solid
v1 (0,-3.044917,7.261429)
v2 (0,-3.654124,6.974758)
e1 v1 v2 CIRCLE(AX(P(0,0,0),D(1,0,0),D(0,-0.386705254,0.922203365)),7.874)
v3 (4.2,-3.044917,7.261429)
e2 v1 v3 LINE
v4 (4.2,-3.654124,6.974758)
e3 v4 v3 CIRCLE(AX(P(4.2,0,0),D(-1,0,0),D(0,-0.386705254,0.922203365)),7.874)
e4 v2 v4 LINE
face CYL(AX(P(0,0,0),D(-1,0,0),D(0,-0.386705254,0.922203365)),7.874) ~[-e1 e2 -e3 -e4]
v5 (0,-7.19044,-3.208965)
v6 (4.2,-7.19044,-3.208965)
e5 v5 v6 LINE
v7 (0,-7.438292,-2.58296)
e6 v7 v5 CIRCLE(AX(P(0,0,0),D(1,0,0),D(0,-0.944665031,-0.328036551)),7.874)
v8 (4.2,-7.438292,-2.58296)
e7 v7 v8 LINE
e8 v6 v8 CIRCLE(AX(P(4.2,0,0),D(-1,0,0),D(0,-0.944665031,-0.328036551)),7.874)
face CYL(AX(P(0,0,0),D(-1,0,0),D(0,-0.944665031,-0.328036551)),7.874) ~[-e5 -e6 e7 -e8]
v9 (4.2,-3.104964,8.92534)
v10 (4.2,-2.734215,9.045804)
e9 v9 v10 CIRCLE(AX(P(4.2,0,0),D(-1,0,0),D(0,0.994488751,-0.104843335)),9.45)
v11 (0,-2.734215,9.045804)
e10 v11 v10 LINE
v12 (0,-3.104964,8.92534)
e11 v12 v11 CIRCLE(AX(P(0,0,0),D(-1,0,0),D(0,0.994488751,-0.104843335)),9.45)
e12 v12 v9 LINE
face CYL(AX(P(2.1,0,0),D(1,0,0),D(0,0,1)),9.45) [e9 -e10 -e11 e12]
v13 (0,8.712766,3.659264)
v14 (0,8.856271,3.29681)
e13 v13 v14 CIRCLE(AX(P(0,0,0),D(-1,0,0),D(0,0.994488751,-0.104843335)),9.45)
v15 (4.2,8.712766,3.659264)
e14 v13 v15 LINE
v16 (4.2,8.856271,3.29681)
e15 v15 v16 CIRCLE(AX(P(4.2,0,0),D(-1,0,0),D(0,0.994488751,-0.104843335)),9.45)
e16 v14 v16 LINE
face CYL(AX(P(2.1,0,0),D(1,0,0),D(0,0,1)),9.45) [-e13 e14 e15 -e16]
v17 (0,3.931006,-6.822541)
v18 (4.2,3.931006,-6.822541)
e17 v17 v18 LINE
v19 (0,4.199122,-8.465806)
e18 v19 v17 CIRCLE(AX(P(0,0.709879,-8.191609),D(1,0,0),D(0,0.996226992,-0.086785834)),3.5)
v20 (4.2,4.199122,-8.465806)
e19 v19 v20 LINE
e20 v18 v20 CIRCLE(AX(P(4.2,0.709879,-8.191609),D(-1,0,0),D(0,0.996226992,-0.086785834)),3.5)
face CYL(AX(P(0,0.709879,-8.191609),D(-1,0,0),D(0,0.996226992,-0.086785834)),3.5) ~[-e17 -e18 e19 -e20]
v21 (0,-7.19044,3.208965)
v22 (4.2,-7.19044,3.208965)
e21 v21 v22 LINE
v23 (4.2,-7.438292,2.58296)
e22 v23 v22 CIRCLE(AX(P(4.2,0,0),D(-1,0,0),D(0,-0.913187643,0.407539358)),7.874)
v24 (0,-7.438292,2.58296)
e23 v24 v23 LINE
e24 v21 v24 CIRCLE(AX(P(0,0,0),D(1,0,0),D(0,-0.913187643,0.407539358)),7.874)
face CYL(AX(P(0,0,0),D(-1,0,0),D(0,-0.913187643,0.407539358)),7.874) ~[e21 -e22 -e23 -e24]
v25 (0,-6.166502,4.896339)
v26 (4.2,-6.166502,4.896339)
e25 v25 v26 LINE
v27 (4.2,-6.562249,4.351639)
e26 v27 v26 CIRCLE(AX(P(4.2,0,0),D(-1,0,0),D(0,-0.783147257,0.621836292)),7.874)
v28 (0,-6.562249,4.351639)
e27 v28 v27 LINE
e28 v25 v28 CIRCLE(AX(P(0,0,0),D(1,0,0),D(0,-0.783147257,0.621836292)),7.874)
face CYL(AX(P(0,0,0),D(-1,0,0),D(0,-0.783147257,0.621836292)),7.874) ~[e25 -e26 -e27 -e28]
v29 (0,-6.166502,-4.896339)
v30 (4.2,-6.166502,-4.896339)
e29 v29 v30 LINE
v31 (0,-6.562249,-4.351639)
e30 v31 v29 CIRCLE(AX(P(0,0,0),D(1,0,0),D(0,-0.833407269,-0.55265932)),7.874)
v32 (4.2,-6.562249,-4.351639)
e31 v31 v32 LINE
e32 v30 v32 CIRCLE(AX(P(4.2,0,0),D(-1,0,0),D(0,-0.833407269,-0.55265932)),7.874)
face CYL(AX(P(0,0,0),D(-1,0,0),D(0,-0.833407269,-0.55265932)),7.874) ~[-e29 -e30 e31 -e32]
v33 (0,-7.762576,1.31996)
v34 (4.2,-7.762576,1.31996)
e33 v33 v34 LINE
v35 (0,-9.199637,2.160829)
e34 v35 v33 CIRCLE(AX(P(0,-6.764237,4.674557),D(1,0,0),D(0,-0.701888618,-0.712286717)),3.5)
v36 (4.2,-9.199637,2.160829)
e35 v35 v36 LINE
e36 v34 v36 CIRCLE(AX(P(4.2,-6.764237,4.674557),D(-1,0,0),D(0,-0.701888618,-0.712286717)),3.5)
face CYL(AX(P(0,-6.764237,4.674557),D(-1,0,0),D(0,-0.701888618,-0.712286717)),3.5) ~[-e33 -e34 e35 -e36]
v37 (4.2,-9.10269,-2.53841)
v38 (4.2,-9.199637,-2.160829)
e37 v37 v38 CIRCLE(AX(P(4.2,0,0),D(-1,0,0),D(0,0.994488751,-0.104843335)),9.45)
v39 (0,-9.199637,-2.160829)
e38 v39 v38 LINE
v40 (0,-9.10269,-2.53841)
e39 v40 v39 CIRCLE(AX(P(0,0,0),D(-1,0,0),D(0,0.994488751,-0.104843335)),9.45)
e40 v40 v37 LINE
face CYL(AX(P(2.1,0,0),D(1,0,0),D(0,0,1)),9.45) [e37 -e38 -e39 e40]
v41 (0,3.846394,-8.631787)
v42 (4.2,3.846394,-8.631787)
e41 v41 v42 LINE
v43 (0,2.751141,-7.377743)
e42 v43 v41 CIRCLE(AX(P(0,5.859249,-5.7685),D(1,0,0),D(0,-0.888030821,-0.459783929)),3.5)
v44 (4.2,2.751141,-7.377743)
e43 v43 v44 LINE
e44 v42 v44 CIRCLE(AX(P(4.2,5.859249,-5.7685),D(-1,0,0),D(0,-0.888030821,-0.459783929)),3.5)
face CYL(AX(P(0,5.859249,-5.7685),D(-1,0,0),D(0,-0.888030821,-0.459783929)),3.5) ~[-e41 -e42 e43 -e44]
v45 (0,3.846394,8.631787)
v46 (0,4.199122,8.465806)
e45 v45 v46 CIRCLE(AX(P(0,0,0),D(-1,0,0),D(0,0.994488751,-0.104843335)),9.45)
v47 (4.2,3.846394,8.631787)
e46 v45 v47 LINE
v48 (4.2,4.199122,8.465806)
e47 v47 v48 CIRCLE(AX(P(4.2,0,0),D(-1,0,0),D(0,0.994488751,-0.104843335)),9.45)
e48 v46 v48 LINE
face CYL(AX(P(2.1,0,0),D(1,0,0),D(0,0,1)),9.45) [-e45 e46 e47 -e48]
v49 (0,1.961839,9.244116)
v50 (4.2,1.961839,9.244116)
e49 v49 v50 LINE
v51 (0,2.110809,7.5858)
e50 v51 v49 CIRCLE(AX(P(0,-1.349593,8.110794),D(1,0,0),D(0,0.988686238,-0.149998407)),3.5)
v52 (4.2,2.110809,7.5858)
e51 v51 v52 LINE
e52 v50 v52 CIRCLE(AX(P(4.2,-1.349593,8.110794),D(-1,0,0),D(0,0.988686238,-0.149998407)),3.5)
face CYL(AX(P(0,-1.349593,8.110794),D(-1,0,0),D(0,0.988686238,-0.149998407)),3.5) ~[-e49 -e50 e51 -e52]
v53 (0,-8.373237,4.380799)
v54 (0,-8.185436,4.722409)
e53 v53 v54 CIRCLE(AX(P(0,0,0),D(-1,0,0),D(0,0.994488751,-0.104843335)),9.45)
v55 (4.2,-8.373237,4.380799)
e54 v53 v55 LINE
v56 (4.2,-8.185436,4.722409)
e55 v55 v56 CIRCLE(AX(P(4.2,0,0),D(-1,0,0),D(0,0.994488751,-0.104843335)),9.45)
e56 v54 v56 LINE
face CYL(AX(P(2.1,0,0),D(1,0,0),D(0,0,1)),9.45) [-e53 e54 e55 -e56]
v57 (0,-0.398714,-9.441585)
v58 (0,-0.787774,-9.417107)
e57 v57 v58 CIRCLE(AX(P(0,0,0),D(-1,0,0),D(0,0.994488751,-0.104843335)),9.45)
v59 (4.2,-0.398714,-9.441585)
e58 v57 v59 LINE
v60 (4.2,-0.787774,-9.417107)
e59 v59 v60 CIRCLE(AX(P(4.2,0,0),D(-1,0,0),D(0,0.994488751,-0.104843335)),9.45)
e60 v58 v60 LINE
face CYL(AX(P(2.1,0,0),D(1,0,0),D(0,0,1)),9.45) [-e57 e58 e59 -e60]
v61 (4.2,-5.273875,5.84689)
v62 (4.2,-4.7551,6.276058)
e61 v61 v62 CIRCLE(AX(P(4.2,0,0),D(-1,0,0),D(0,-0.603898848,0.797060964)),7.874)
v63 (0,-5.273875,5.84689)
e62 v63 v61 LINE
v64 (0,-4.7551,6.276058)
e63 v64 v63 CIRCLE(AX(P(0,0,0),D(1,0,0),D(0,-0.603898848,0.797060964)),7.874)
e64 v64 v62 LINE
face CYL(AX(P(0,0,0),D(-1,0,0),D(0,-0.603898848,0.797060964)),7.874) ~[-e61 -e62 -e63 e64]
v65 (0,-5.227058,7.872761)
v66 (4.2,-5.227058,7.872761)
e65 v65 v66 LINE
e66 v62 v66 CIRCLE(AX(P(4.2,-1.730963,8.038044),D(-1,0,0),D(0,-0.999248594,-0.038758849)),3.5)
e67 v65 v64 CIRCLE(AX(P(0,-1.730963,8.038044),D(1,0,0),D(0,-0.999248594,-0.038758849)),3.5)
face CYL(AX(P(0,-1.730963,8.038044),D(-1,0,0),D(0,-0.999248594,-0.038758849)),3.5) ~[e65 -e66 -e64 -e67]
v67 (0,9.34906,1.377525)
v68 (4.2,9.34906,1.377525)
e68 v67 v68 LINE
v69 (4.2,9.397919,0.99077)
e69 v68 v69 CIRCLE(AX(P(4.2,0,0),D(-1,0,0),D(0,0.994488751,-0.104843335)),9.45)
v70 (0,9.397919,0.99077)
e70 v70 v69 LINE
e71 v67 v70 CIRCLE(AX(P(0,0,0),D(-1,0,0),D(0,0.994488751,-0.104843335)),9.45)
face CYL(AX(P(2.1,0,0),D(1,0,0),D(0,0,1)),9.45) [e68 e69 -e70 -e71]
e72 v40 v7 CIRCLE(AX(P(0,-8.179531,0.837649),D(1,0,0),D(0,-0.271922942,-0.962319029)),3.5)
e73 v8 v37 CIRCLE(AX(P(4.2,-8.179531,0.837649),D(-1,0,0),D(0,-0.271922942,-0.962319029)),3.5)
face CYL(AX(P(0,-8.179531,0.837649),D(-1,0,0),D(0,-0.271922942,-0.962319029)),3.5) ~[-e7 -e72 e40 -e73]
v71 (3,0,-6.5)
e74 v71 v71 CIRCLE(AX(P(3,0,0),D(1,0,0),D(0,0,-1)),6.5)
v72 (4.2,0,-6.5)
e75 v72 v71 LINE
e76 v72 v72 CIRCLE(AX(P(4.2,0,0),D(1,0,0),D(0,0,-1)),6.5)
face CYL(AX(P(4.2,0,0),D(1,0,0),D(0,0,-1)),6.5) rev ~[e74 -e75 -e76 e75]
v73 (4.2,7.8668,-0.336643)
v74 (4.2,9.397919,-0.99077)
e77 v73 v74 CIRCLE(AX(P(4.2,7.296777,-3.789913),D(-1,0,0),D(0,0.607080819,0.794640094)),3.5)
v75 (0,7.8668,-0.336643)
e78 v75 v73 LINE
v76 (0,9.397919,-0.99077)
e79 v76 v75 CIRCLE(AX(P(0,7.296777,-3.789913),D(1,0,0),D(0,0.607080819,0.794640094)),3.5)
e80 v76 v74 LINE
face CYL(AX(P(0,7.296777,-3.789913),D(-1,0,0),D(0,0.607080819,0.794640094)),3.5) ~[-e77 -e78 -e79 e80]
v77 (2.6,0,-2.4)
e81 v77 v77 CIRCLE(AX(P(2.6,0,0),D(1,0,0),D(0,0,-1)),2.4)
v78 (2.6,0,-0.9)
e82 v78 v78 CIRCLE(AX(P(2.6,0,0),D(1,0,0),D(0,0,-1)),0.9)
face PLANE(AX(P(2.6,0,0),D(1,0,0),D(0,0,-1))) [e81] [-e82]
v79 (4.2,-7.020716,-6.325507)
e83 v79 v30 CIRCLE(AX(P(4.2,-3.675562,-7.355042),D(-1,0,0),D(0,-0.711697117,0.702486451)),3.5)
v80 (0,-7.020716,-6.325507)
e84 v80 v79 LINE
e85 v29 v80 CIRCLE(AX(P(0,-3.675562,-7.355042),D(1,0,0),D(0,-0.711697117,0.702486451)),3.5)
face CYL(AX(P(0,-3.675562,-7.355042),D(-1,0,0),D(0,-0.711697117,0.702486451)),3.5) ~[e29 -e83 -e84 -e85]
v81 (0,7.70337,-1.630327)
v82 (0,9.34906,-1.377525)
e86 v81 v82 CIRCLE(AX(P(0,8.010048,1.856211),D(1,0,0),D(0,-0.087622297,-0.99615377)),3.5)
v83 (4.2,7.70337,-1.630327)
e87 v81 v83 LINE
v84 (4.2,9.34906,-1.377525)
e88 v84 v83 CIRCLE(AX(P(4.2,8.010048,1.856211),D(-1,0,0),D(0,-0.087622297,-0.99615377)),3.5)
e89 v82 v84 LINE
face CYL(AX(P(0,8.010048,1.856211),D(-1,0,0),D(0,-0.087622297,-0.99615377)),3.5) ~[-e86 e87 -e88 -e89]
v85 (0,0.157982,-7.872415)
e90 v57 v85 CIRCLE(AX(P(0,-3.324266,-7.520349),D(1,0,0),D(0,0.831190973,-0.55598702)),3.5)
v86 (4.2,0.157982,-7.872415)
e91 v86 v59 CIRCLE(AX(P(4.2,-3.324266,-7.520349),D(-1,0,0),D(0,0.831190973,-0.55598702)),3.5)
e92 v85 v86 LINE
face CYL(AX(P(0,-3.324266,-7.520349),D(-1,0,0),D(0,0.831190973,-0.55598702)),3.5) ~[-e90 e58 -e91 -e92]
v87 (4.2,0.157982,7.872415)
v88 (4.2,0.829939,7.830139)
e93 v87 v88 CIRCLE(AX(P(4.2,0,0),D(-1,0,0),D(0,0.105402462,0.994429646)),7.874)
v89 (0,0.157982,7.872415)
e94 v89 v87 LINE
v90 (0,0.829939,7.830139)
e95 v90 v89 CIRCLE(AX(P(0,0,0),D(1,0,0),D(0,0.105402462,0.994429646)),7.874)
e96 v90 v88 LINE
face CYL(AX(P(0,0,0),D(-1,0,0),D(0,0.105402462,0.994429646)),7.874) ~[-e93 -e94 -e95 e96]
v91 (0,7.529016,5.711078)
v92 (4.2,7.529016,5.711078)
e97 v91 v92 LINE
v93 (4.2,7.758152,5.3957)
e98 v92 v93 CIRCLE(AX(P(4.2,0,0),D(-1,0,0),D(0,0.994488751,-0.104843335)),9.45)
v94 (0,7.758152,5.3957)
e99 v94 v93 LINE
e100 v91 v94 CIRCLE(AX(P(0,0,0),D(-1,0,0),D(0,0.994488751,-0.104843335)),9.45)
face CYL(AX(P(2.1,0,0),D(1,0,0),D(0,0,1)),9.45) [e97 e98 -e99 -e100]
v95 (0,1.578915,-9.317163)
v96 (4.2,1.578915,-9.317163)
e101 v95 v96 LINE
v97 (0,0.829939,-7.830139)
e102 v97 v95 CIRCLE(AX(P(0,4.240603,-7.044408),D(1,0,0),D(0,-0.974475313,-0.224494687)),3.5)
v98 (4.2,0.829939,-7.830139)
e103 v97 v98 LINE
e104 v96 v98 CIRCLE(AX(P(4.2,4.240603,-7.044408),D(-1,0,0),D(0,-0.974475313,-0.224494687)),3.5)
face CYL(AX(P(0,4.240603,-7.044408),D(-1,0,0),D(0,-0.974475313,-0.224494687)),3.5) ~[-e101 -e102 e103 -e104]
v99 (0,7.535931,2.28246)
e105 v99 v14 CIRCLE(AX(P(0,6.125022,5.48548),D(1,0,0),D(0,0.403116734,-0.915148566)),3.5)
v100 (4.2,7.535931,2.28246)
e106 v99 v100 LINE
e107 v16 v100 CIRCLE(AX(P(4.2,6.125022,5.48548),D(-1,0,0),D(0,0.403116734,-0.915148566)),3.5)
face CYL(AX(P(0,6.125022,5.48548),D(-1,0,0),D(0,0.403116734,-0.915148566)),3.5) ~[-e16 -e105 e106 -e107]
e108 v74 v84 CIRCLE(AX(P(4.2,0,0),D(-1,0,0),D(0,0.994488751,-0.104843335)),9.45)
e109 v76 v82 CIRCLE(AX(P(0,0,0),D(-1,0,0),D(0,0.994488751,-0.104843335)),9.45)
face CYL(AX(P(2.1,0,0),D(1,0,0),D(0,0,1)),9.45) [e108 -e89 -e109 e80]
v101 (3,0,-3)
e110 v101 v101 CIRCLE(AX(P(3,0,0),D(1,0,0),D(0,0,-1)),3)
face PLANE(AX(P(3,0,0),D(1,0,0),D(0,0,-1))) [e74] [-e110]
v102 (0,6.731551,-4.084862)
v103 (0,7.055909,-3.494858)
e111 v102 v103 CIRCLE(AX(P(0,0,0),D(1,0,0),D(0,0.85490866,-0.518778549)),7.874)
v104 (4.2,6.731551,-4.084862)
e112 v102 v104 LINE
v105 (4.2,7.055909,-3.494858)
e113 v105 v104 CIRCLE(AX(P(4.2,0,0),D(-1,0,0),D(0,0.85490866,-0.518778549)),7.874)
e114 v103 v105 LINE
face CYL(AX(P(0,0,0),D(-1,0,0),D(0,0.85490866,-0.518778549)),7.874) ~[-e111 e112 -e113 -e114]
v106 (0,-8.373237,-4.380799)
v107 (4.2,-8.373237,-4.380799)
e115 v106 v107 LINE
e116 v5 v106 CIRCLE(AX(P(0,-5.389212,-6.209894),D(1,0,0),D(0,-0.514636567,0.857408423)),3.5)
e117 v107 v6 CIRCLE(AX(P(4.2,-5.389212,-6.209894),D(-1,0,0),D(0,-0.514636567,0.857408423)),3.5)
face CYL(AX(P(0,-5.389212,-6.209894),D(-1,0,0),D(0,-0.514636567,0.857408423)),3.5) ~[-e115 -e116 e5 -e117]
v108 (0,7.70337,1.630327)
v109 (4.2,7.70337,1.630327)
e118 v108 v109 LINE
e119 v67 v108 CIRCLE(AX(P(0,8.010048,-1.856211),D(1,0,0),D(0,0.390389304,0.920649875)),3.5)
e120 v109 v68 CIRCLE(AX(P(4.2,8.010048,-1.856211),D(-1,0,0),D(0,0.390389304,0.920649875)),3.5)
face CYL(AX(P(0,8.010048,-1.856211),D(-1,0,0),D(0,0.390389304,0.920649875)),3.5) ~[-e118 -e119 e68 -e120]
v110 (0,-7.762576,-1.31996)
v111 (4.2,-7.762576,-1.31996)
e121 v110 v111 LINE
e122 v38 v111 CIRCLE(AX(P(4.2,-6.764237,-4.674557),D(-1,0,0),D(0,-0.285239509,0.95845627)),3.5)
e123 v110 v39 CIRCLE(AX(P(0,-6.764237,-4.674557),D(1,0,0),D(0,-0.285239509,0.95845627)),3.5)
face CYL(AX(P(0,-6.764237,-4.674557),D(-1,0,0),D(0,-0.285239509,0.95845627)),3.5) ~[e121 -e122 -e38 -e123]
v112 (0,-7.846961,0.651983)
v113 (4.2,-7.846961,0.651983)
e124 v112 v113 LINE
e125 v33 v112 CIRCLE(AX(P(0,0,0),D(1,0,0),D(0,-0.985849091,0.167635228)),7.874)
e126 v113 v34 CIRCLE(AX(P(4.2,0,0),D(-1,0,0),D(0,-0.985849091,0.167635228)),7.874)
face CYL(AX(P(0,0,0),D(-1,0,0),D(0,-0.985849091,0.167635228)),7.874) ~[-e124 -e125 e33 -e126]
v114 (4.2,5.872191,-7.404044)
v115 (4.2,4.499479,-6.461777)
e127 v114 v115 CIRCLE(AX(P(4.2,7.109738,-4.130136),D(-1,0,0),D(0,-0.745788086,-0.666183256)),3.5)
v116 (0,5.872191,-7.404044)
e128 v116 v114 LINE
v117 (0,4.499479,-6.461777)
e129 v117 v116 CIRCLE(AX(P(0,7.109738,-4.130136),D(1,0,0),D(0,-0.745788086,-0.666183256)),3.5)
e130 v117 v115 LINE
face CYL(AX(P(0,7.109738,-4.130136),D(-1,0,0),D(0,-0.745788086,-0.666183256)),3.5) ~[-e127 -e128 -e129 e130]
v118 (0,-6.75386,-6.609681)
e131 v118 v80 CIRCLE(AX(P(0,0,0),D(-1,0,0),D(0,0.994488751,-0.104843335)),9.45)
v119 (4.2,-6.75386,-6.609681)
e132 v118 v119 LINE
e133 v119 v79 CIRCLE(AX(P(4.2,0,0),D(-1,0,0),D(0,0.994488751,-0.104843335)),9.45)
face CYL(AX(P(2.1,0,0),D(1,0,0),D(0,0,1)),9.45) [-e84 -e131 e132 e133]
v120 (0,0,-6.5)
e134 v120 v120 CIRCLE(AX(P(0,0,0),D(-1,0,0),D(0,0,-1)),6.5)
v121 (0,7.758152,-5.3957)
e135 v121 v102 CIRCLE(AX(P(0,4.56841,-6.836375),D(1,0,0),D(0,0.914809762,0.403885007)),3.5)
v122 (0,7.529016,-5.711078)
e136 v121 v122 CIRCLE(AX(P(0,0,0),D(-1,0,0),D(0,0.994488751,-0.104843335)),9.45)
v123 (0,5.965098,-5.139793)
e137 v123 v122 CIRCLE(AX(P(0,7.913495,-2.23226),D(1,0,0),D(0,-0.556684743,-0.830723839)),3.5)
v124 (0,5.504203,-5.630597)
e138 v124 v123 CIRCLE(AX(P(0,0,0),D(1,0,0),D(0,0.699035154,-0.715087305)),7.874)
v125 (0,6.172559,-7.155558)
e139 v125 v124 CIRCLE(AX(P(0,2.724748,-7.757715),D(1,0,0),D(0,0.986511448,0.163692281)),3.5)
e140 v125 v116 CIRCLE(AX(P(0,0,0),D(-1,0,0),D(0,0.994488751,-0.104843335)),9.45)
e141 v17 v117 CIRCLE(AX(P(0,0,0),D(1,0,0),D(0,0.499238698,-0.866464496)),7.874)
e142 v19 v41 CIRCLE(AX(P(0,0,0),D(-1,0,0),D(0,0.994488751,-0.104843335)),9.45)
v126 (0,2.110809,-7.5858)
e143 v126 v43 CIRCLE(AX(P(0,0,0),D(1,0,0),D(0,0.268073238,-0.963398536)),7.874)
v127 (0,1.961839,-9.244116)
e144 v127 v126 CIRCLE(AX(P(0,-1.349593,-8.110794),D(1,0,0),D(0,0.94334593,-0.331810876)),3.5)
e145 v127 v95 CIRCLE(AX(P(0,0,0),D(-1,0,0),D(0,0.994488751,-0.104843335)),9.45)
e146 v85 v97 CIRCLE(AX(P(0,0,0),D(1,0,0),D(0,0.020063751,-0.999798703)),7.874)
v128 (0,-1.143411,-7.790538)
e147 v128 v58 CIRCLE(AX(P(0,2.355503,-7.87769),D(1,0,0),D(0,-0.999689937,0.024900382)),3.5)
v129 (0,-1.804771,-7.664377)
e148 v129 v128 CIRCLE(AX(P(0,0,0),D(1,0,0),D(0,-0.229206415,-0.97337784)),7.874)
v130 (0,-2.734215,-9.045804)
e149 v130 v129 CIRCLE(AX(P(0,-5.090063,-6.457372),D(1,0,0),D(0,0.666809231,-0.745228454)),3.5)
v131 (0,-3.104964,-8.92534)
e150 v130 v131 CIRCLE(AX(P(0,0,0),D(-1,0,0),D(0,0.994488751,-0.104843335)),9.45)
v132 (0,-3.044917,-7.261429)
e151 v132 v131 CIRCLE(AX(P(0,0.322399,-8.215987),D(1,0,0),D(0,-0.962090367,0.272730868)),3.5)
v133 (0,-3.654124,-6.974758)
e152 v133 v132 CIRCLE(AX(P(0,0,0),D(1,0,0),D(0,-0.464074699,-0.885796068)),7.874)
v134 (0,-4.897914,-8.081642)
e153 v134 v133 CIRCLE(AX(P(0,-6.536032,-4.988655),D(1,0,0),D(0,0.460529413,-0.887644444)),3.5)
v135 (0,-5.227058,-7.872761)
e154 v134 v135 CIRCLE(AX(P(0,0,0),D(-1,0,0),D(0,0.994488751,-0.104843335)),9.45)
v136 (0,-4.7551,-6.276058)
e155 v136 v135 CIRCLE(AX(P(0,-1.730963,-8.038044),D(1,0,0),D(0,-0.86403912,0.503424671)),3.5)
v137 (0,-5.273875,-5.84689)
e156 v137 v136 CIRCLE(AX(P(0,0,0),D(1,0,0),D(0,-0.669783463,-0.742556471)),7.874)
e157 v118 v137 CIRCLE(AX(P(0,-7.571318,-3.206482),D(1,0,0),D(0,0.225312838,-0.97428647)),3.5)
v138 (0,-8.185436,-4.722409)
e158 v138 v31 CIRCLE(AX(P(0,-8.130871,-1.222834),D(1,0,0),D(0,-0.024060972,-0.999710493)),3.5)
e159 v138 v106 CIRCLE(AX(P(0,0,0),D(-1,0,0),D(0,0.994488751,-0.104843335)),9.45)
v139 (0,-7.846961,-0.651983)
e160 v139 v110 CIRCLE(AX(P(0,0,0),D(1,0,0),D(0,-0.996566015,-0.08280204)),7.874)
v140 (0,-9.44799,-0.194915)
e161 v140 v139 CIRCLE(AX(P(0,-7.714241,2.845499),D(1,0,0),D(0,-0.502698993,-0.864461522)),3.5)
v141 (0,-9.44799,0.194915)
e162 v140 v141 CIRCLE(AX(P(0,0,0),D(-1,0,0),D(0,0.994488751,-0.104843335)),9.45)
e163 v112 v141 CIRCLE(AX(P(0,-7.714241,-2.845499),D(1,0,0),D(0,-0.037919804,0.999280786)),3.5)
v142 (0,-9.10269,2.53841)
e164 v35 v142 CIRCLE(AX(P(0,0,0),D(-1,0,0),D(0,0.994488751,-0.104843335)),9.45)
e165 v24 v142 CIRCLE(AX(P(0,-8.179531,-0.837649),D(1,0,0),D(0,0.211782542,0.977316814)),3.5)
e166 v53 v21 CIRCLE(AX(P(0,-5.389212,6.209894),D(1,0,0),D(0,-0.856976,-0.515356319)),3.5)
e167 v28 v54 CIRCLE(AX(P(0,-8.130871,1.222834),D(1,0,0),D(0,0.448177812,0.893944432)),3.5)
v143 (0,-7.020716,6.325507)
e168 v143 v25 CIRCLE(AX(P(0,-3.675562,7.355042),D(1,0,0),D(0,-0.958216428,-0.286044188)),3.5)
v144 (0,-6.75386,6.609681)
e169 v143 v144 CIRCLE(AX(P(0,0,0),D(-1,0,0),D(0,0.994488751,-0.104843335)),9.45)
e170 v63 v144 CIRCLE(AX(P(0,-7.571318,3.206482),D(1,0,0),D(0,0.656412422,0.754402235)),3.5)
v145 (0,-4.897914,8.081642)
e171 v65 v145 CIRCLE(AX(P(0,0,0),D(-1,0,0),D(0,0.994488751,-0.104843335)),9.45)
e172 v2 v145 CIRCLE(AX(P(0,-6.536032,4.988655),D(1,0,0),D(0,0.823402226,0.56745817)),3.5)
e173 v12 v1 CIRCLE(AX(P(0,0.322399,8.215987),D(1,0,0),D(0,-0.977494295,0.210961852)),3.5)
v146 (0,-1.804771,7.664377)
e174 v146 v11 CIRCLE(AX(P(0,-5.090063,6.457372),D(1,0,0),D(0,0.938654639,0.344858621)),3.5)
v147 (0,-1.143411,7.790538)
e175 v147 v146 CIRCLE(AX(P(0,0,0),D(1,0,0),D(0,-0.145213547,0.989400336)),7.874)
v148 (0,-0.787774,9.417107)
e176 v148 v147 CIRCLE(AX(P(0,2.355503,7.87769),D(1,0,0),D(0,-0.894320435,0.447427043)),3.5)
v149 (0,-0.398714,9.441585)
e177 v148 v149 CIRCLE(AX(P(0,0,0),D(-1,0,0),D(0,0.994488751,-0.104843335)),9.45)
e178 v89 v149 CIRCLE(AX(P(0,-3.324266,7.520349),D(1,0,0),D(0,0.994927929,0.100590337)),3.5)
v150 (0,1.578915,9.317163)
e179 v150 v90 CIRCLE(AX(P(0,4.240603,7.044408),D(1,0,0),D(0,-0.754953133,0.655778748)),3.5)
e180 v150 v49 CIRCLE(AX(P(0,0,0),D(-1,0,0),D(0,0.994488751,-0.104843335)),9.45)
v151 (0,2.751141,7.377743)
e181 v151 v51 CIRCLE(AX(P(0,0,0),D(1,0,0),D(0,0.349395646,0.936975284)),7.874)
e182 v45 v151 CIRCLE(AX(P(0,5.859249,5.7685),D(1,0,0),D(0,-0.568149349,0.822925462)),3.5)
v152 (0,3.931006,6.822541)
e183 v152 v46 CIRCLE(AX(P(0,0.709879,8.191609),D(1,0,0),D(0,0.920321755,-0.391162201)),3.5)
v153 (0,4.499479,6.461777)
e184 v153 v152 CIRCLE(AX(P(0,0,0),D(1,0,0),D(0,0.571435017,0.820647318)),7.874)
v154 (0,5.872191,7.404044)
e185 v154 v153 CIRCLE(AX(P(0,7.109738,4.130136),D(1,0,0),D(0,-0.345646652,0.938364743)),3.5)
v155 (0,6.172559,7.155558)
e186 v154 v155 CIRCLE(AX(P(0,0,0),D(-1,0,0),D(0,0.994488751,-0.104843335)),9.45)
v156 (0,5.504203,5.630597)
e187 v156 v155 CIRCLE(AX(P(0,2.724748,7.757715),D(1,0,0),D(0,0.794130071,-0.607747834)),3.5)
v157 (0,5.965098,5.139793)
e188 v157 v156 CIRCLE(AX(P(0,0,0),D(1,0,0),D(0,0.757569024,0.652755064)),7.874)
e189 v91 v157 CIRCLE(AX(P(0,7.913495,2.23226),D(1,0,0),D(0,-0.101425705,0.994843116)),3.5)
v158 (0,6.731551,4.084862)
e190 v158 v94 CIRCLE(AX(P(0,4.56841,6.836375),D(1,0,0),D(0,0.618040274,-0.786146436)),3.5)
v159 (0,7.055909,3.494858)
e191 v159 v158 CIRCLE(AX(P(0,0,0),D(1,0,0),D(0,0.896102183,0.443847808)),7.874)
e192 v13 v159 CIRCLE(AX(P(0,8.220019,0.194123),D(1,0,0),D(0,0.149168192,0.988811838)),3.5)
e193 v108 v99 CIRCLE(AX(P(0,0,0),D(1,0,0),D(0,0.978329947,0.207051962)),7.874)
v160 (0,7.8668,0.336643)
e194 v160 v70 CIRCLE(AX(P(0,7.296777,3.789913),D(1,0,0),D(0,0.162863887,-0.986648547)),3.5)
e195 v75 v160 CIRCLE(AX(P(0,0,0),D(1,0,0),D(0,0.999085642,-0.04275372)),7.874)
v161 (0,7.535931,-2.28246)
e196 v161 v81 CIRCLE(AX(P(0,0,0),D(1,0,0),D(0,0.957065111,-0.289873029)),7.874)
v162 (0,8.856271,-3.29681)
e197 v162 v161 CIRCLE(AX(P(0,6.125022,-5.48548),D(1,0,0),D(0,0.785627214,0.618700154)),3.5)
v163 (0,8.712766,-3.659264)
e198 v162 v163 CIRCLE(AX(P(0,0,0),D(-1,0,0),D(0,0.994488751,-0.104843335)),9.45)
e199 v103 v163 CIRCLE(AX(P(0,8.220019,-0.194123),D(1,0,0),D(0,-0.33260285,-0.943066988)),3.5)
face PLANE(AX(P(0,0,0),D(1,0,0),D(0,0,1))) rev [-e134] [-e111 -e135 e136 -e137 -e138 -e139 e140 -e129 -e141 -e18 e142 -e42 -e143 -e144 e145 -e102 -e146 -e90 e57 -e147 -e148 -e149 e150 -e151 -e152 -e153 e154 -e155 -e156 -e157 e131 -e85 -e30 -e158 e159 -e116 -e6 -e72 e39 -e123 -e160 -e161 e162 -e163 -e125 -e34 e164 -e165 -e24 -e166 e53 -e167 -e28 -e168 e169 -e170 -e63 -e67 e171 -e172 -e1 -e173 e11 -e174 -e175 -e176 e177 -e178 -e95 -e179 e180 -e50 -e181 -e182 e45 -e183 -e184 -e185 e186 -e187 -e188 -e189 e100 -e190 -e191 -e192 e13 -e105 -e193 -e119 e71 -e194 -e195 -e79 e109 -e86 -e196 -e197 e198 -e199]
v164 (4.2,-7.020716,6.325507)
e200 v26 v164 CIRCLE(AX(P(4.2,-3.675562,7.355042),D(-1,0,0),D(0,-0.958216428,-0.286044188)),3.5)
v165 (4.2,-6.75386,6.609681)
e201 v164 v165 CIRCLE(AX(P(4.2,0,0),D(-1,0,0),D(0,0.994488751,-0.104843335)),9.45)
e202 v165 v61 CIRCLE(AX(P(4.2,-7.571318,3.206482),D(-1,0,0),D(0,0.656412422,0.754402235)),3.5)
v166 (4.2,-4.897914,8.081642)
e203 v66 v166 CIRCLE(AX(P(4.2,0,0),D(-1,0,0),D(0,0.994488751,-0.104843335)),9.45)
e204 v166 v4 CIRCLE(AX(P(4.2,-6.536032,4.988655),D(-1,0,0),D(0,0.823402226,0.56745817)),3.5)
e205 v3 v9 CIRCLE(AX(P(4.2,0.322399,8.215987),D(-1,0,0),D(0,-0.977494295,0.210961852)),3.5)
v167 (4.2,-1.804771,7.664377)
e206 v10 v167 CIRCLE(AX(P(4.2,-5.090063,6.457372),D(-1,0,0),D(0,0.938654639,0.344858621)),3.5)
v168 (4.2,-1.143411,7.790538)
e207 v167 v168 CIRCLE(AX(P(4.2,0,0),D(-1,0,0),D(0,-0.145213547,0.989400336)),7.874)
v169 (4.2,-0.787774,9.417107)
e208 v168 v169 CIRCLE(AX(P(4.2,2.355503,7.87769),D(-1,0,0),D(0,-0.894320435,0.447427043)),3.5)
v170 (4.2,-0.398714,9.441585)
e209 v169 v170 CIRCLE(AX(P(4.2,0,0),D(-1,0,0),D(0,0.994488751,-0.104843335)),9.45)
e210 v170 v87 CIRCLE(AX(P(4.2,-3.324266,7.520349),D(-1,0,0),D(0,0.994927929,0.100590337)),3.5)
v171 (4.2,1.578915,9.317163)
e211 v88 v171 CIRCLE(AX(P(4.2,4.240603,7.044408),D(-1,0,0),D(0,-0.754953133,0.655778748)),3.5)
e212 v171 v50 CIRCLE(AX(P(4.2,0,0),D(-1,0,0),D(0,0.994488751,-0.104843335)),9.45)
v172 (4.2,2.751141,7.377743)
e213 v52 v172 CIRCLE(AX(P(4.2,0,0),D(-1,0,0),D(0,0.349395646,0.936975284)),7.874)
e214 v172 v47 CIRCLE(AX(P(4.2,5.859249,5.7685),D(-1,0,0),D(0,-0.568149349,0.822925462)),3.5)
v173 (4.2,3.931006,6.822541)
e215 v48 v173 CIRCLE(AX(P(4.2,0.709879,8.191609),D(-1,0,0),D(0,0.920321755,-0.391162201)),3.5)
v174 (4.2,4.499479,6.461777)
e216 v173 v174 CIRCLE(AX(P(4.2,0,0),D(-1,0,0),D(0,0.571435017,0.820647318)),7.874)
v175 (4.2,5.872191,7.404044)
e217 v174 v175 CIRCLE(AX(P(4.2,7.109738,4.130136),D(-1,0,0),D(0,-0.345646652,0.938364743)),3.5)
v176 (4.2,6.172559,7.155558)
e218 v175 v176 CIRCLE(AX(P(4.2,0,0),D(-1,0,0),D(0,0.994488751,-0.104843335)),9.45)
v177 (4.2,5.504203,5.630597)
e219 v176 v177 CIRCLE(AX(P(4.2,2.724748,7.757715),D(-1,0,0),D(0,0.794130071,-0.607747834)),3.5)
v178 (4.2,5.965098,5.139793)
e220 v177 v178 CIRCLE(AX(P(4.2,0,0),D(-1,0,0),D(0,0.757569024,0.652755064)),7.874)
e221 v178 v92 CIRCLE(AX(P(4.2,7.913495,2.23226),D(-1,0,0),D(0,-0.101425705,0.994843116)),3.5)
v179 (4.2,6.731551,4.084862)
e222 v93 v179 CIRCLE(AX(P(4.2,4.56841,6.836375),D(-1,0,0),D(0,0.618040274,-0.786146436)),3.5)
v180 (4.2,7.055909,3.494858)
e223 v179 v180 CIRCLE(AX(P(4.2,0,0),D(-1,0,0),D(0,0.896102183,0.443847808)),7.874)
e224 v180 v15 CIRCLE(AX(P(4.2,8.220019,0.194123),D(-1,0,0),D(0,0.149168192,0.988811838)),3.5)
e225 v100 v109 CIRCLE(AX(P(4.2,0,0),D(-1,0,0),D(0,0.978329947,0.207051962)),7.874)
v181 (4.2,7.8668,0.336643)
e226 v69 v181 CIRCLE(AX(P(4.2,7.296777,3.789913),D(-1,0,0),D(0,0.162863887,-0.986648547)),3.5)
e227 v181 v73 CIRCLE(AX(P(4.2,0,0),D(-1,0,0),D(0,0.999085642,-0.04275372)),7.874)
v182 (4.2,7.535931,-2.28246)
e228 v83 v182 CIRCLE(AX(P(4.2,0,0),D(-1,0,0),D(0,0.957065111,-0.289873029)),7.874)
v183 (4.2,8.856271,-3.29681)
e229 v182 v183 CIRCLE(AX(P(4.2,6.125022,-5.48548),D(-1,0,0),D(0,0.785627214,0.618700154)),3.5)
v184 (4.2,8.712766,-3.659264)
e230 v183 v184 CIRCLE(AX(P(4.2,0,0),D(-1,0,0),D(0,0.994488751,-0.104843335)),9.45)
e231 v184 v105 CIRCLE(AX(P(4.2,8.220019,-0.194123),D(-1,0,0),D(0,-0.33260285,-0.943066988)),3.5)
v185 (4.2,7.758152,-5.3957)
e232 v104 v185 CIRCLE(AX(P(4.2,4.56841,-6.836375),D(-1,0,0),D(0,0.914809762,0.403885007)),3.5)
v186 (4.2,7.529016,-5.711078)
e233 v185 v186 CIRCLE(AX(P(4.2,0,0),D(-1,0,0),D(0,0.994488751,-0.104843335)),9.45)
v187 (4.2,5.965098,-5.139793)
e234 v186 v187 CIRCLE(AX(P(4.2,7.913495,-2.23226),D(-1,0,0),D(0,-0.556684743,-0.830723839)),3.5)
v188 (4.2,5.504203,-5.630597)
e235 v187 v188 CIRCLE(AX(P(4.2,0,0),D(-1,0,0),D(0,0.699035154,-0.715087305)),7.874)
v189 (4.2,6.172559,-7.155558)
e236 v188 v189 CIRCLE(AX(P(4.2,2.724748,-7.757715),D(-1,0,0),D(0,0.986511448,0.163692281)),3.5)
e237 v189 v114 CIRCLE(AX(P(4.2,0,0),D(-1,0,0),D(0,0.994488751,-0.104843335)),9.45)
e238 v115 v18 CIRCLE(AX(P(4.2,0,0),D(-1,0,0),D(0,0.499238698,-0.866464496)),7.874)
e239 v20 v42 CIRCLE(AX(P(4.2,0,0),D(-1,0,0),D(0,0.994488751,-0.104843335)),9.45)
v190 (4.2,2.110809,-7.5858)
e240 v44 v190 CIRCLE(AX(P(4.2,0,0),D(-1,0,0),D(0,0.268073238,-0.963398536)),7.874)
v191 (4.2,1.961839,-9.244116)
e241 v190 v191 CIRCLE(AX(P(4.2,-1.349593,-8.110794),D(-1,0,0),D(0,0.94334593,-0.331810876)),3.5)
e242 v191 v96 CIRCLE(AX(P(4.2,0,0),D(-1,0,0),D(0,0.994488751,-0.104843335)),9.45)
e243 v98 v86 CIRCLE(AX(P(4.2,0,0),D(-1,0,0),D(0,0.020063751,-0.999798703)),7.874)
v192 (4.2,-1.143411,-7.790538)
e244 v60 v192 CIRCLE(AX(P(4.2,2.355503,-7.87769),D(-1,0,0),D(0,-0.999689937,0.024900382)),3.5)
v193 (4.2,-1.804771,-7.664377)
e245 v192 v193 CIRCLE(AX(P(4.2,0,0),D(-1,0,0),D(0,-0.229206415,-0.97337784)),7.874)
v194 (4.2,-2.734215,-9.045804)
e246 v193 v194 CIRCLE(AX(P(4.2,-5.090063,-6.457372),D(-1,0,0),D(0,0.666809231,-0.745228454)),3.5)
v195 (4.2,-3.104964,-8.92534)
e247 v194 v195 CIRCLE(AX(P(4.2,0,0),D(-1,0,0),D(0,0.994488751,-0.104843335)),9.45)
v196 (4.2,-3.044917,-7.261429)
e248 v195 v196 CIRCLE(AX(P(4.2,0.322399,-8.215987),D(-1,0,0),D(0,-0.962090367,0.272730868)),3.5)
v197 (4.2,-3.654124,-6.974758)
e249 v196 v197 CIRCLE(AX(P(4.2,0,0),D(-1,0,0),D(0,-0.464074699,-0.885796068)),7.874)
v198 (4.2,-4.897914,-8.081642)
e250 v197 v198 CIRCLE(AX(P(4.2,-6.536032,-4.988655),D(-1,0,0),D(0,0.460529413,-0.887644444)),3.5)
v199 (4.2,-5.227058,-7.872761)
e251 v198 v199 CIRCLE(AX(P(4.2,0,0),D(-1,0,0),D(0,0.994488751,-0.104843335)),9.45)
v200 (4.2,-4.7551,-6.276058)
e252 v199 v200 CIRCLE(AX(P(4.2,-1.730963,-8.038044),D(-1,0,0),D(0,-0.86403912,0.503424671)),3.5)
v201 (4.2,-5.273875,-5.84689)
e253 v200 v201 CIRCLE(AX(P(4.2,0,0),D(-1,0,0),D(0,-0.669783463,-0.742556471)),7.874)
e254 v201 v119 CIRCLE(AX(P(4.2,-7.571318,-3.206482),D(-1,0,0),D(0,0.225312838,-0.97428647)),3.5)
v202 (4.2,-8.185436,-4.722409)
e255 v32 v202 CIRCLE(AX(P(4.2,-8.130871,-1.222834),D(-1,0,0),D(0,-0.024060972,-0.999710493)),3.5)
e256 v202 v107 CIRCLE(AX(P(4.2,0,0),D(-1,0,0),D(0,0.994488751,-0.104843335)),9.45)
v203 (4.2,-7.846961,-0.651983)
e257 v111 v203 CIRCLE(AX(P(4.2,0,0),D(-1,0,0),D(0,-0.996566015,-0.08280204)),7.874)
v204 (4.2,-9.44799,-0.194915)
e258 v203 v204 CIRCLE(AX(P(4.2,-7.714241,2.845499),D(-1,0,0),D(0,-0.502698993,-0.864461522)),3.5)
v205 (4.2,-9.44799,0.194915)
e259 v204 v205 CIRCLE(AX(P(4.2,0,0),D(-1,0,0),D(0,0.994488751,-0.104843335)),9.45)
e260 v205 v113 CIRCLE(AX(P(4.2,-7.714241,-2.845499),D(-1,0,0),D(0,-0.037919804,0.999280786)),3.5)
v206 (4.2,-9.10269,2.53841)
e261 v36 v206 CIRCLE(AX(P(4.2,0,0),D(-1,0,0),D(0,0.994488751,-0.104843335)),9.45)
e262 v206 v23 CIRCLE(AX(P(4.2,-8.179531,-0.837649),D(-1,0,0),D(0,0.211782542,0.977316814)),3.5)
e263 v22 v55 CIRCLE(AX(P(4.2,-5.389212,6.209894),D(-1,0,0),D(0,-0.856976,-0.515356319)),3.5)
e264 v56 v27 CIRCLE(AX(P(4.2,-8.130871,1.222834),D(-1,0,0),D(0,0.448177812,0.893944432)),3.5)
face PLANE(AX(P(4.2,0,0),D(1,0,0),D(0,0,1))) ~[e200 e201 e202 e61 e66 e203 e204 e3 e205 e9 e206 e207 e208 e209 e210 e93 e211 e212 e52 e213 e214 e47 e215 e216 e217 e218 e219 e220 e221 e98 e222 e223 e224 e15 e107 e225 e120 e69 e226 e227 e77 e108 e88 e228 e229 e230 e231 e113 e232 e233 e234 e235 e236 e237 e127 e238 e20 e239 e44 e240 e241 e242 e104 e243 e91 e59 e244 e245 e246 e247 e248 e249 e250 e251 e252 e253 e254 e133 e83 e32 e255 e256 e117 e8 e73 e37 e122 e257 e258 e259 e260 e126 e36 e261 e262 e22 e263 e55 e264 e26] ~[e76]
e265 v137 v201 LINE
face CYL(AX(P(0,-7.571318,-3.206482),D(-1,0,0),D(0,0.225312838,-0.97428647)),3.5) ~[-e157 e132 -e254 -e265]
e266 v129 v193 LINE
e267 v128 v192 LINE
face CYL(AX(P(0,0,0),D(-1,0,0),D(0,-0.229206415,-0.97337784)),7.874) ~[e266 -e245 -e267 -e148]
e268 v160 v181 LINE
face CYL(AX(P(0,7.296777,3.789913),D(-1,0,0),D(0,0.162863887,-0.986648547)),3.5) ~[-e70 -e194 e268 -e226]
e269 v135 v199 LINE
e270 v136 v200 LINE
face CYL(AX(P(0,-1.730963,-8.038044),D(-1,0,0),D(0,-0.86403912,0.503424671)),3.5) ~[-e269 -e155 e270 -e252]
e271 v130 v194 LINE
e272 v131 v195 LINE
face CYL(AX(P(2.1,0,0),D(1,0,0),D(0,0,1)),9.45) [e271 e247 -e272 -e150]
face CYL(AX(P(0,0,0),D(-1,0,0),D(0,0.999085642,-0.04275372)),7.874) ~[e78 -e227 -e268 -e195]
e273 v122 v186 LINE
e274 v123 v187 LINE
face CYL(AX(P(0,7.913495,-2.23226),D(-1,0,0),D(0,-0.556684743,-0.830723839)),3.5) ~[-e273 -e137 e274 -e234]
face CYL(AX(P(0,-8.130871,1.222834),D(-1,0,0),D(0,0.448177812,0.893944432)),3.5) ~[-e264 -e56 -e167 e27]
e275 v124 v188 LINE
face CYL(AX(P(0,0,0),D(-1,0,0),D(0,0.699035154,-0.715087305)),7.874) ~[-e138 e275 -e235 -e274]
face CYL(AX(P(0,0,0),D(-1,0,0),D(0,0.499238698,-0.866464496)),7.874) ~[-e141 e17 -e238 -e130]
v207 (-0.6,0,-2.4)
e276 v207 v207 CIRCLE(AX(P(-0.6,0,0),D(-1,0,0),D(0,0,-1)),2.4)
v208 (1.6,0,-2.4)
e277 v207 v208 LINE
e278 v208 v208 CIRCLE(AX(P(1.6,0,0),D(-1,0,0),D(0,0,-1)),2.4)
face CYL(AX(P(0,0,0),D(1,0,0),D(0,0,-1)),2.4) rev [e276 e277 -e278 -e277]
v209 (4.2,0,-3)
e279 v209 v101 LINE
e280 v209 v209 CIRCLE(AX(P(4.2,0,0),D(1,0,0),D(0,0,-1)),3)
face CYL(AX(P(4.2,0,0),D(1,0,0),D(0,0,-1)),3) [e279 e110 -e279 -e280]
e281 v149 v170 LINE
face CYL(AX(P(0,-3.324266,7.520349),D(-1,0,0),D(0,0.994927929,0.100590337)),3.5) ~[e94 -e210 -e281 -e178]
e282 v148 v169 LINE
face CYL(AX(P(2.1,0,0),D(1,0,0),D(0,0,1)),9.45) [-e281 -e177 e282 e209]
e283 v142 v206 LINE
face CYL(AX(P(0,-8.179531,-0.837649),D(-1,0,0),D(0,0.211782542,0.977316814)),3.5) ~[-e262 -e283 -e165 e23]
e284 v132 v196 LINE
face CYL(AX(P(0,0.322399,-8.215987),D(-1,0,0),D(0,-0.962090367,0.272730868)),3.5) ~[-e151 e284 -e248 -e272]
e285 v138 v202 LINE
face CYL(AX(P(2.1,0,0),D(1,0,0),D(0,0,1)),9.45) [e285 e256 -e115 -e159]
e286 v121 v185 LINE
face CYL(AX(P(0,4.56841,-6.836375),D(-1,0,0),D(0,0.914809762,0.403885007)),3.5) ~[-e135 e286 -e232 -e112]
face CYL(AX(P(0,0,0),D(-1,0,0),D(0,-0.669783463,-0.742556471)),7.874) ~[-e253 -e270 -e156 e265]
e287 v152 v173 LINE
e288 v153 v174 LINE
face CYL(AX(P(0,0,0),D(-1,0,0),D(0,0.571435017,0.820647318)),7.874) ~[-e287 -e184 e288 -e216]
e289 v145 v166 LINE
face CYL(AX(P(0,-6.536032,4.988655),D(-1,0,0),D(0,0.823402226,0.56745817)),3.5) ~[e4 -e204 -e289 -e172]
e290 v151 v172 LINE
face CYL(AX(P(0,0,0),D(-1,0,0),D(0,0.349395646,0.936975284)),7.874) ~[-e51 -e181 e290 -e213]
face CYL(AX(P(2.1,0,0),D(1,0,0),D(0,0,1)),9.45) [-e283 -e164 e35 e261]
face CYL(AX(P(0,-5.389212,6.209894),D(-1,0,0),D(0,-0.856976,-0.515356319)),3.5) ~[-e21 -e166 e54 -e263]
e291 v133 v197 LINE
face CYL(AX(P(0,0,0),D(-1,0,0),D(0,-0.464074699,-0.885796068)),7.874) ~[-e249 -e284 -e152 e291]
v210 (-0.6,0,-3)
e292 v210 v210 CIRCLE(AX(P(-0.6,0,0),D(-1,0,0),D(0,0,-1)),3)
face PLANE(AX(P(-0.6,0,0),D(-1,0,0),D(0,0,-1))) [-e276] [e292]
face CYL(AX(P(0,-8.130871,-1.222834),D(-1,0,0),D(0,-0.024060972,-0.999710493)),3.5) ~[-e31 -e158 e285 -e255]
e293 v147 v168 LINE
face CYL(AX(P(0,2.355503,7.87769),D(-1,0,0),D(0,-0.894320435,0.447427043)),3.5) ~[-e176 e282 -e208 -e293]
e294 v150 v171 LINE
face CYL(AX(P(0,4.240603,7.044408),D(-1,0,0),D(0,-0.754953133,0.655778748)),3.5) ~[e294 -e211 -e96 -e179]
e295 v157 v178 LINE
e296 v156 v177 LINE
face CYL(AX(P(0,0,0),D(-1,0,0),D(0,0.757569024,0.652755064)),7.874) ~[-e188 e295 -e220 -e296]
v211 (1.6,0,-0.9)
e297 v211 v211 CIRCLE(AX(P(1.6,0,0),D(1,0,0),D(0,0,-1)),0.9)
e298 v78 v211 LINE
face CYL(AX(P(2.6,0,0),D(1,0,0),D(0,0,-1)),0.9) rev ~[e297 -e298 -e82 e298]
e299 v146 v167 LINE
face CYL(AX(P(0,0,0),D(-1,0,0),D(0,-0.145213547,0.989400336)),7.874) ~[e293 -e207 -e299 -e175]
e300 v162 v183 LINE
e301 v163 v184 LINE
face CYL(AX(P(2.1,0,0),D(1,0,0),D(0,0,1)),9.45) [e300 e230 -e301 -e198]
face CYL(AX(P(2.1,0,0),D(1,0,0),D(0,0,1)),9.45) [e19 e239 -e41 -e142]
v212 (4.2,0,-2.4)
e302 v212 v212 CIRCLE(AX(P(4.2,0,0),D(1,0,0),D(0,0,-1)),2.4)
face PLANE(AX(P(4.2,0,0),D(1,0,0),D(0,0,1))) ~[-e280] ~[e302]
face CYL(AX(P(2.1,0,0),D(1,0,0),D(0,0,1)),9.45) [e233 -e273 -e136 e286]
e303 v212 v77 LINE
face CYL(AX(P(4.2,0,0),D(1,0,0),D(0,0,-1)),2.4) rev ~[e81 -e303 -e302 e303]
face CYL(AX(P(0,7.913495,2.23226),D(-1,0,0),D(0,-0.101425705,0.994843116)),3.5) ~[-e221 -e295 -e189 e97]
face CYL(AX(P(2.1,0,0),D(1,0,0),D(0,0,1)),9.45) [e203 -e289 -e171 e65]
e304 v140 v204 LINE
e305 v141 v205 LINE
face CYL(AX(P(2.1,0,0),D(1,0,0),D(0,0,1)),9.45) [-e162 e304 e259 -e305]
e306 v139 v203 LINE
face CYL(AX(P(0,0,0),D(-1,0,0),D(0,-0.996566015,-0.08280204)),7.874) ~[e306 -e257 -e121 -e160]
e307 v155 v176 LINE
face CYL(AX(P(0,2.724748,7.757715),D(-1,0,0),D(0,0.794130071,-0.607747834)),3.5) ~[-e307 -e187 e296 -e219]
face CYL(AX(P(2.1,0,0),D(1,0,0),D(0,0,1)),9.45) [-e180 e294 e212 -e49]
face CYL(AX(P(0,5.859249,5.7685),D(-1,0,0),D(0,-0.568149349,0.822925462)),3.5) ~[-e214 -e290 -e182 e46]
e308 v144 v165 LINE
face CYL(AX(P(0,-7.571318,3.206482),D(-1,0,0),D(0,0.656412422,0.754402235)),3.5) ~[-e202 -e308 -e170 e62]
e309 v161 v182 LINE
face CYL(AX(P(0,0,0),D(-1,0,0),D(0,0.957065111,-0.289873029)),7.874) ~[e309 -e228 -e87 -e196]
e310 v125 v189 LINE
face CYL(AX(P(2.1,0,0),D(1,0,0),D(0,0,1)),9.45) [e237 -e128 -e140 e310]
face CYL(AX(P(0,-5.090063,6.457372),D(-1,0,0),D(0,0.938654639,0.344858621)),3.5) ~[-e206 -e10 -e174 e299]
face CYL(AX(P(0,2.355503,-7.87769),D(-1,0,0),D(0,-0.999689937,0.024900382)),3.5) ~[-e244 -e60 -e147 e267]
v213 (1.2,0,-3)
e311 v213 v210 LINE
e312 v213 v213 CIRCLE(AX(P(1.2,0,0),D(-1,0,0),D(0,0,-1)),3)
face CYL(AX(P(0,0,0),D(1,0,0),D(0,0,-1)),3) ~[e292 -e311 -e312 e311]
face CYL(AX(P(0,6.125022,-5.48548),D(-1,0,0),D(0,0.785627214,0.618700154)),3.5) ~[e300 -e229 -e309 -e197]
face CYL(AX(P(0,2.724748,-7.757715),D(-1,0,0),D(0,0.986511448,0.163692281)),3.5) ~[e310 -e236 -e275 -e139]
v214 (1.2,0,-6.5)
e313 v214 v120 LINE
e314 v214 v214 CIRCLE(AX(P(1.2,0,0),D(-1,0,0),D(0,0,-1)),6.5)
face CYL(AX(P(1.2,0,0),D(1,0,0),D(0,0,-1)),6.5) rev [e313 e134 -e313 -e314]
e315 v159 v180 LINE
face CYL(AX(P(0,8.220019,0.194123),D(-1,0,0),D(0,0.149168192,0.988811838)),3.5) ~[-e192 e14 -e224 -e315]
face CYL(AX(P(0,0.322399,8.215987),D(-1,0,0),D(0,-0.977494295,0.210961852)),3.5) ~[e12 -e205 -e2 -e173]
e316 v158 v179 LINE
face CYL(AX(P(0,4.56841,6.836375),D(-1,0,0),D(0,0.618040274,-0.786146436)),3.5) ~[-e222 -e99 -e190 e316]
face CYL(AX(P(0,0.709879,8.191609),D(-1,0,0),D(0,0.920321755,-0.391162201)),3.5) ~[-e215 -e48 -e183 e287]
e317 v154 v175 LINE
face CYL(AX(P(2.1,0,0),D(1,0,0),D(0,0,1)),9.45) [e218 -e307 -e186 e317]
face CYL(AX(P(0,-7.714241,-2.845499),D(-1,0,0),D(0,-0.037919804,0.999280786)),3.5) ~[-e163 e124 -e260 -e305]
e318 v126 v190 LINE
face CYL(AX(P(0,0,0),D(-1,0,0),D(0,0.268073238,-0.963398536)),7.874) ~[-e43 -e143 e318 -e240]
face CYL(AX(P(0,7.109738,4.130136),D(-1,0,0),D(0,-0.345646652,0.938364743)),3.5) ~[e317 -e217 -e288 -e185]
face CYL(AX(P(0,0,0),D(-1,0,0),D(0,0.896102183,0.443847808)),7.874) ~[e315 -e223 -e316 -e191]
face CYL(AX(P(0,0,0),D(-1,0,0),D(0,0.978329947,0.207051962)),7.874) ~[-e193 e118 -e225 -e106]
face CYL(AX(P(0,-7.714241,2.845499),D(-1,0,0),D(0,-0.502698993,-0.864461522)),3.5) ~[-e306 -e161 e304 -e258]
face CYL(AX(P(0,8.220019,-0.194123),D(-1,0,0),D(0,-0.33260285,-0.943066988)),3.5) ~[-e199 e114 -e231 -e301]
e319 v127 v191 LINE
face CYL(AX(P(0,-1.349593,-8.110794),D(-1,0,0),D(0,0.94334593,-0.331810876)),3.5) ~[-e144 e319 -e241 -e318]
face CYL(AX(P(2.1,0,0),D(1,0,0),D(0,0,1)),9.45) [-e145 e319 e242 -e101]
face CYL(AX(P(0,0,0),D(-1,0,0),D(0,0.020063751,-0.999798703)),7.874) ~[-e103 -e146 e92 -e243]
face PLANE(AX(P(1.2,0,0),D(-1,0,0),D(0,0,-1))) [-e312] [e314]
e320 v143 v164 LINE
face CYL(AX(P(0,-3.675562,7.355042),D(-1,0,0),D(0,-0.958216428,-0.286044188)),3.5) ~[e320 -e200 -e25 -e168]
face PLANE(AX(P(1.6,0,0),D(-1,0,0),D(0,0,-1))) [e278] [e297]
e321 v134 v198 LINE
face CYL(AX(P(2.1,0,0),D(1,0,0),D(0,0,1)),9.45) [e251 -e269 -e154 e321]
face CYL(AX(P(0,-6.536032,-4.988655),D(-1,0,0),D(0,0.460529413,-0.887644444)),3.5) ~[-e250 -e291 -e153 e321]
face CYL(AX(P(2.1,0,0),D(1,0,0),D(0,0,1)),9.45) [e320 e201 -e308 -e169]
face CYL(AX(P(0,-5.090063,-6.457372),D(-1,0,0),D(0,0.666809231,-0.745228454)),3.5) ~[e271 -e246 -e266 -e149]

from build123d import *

# Parameters (mm, degrees)
BASPROSKE_W         = 4.2
BASPROSKE_H         = 9.45
TOOTHCUT_DEPTH      = 15.008747267
TEETHCUTS_COUNT     = 25
TEETHCUTS_ANGLE     = 345.6
SKETCH7_R           = 2.4
CUT_EXTRUDE2_DEPTH  = 1.6
SKETCH13_R          = 6.5
SKETCH13_R_2        = 3
CUT_EXTRUDE3_DEPTH  = 1.2
CUT_EXTRUDE4_START  = -1.2
SKETCH15_R          = 6.5
SKETCH15_R_2        = 3
CUT_EXTRUDE4_DEPTH  = 1.2
CUT_EXTRUDE5_START  = -1.6
SKETCH17_R          = 2.4
CUT_EXTRUDE5_DEPTH  = 1.6
SKETCH18_R          = 0.9
CUT_EXTRUDE6_DEPTH  = 1.6
SKETCH19_R          = 3
SKETCH19_R_2        = 2.4
BOSS_EXTRUDE1_DEPTH = 0.6


with BuildPart() as part:
    # BasProSke → Base-Revolve (revolve)
    with BuildSketch(Plane(origin=(0, 0, 0), x_dir=(1, 0, 0), z_dir=(0, 1, 0)), mode=Mode.PRIVATE) as base_revolve_sk:
        with Locations((2.1, 4.725)):
            Rectangle(BASPROSKE_W, BASPROSKE_H)
    revolve(base_revolve_sk.sketch.rotate(Axis((-10, 0, 0), (1, 0, 0)), 180), axis=Axis((-10, 0, 0), (1, 0, 0)))

    # TooCutSke → ToothCut (cut, through all)
    with BuildSketch(Plane(origin=(0, 0, 0), x_dir=(0, 0, -1), z_dir=(1, 0, 0))):
        with BuildLine():
            ThreePointArc((0.336642775, 7.866800343), (0, 7.874), (-0.336642775, 7.866800343))
            ThreePointArc((-0.336642775, 7.866800343), (-0.577188207, 8.685445672), (-1.008672355, 9.421559597))
            ThreePointArc((-1.008672355, 9.421559597), (0, 9.4754), (1.008672355, 9.421559597))
            ThreePointArc((1.008672355, 9.421559597), (0.577188207, 8.685445672), (0.336642775, 7.866800343))
        make_face()
    toothcut = extrude(amount=TOOTHCUT_DEPTH, mode=Mode.SUBTRACT)

    # TeethCuts: ToothCut ×25 about axis
    teethcuts_axis = Axis((-10, 0, 0), (1, 0, 0))
    for i in range(1, TEETHCUTS_COUNT):
        add(toothcut.rotate(teethcuts_axis, i * TEETHCUTS_ANGLE / (TEETHCUTS_COUNT - 1)), mode=Mode.SUBTRACT)

    # Sketch7 → Cut-Extrude2 (cut)
    with BuildSketch(Plane(origin=(4.2, 0, 0), x_dir=(0, 0, -1), z_dir=(1, 0, 0))):
        Circle(SKETCH7_R)
    extrude(amount=-CUT_EXTRUDE2_DEPTH, mode=Mode.SUBTRACT)

    # Sketch13 → Cut-Extrude3 (cut)
    with BuildSketch(Plane(origin=(4.2, 0, 0), x_dir=(0, 0, -1), z_dir=(1, 0, 0))):
        Circle(SKETCH13_R)
        Circle(SKETCH13_R_2, mode=Mode.SUBTRACT)
    extrude(amount=-CUT_EXTRUDE3_DEPTH, mode=Mode.SUBTRACT)

    # Sketch15 → Cut-Extrude4 (cut)
    with BuildSketch(Plane.ZY.offset(CUT_EXTRUDE4_START)):
        with Locations(Location((0, 0, 0), (0, 0, 180))):
            Circle(SKETCH15_R)
        with Locations(Location((0, 0, 0), (0, 0, 180))):
            Circle(SKETCH15_R_2, mode=Mode.SUBTRACT)
    extrude(amount=CUT_EXTRUDE4_DEPTH, mode=Mode.SUBTRACT)

    # Sketch17 → Cut-Extrude5 (cut)
    with BuildSketch(Plane.ZY.offset(CUT_EXTRUDE5_START)):
        with Locations(Location((0, 0, 0), (0, 0, 180))):
            Circle(SKETCH17_R)
    extrude(amount=CUT_EXTRUDE5_DEPTH, mode=Mode.SUBTRACT)

    # Sketch18 → Cut-Extrude6 (cut)
    with BuildSketch(Plane(origin=(2.6, 0, 0), x_dir=(0, 0, -1), z_dir=(1, 0, 0))):
        Circle(SKETCH18_R)
    extrude(amount=-CUT_EXTRUDE6_DEPTH, mode=Mode.SUBTRACT)

    # Sketch19 → Boss-Extrude1 (add)
    with BuildSketch(Plane.ZY):
        with Locations(Location((0, 0, 0), (0, 0, 180))):
            Circle(SKETCH19_R)
        with Locations(Location((0, 0, 0), (0, 0, 180))):
            Circle(SKETCH19_R_2, mode=Mode.SUBTRACT)
    extrude(amount=BOSS_EXTRUDE1_DEPTH)


solid = part.part
